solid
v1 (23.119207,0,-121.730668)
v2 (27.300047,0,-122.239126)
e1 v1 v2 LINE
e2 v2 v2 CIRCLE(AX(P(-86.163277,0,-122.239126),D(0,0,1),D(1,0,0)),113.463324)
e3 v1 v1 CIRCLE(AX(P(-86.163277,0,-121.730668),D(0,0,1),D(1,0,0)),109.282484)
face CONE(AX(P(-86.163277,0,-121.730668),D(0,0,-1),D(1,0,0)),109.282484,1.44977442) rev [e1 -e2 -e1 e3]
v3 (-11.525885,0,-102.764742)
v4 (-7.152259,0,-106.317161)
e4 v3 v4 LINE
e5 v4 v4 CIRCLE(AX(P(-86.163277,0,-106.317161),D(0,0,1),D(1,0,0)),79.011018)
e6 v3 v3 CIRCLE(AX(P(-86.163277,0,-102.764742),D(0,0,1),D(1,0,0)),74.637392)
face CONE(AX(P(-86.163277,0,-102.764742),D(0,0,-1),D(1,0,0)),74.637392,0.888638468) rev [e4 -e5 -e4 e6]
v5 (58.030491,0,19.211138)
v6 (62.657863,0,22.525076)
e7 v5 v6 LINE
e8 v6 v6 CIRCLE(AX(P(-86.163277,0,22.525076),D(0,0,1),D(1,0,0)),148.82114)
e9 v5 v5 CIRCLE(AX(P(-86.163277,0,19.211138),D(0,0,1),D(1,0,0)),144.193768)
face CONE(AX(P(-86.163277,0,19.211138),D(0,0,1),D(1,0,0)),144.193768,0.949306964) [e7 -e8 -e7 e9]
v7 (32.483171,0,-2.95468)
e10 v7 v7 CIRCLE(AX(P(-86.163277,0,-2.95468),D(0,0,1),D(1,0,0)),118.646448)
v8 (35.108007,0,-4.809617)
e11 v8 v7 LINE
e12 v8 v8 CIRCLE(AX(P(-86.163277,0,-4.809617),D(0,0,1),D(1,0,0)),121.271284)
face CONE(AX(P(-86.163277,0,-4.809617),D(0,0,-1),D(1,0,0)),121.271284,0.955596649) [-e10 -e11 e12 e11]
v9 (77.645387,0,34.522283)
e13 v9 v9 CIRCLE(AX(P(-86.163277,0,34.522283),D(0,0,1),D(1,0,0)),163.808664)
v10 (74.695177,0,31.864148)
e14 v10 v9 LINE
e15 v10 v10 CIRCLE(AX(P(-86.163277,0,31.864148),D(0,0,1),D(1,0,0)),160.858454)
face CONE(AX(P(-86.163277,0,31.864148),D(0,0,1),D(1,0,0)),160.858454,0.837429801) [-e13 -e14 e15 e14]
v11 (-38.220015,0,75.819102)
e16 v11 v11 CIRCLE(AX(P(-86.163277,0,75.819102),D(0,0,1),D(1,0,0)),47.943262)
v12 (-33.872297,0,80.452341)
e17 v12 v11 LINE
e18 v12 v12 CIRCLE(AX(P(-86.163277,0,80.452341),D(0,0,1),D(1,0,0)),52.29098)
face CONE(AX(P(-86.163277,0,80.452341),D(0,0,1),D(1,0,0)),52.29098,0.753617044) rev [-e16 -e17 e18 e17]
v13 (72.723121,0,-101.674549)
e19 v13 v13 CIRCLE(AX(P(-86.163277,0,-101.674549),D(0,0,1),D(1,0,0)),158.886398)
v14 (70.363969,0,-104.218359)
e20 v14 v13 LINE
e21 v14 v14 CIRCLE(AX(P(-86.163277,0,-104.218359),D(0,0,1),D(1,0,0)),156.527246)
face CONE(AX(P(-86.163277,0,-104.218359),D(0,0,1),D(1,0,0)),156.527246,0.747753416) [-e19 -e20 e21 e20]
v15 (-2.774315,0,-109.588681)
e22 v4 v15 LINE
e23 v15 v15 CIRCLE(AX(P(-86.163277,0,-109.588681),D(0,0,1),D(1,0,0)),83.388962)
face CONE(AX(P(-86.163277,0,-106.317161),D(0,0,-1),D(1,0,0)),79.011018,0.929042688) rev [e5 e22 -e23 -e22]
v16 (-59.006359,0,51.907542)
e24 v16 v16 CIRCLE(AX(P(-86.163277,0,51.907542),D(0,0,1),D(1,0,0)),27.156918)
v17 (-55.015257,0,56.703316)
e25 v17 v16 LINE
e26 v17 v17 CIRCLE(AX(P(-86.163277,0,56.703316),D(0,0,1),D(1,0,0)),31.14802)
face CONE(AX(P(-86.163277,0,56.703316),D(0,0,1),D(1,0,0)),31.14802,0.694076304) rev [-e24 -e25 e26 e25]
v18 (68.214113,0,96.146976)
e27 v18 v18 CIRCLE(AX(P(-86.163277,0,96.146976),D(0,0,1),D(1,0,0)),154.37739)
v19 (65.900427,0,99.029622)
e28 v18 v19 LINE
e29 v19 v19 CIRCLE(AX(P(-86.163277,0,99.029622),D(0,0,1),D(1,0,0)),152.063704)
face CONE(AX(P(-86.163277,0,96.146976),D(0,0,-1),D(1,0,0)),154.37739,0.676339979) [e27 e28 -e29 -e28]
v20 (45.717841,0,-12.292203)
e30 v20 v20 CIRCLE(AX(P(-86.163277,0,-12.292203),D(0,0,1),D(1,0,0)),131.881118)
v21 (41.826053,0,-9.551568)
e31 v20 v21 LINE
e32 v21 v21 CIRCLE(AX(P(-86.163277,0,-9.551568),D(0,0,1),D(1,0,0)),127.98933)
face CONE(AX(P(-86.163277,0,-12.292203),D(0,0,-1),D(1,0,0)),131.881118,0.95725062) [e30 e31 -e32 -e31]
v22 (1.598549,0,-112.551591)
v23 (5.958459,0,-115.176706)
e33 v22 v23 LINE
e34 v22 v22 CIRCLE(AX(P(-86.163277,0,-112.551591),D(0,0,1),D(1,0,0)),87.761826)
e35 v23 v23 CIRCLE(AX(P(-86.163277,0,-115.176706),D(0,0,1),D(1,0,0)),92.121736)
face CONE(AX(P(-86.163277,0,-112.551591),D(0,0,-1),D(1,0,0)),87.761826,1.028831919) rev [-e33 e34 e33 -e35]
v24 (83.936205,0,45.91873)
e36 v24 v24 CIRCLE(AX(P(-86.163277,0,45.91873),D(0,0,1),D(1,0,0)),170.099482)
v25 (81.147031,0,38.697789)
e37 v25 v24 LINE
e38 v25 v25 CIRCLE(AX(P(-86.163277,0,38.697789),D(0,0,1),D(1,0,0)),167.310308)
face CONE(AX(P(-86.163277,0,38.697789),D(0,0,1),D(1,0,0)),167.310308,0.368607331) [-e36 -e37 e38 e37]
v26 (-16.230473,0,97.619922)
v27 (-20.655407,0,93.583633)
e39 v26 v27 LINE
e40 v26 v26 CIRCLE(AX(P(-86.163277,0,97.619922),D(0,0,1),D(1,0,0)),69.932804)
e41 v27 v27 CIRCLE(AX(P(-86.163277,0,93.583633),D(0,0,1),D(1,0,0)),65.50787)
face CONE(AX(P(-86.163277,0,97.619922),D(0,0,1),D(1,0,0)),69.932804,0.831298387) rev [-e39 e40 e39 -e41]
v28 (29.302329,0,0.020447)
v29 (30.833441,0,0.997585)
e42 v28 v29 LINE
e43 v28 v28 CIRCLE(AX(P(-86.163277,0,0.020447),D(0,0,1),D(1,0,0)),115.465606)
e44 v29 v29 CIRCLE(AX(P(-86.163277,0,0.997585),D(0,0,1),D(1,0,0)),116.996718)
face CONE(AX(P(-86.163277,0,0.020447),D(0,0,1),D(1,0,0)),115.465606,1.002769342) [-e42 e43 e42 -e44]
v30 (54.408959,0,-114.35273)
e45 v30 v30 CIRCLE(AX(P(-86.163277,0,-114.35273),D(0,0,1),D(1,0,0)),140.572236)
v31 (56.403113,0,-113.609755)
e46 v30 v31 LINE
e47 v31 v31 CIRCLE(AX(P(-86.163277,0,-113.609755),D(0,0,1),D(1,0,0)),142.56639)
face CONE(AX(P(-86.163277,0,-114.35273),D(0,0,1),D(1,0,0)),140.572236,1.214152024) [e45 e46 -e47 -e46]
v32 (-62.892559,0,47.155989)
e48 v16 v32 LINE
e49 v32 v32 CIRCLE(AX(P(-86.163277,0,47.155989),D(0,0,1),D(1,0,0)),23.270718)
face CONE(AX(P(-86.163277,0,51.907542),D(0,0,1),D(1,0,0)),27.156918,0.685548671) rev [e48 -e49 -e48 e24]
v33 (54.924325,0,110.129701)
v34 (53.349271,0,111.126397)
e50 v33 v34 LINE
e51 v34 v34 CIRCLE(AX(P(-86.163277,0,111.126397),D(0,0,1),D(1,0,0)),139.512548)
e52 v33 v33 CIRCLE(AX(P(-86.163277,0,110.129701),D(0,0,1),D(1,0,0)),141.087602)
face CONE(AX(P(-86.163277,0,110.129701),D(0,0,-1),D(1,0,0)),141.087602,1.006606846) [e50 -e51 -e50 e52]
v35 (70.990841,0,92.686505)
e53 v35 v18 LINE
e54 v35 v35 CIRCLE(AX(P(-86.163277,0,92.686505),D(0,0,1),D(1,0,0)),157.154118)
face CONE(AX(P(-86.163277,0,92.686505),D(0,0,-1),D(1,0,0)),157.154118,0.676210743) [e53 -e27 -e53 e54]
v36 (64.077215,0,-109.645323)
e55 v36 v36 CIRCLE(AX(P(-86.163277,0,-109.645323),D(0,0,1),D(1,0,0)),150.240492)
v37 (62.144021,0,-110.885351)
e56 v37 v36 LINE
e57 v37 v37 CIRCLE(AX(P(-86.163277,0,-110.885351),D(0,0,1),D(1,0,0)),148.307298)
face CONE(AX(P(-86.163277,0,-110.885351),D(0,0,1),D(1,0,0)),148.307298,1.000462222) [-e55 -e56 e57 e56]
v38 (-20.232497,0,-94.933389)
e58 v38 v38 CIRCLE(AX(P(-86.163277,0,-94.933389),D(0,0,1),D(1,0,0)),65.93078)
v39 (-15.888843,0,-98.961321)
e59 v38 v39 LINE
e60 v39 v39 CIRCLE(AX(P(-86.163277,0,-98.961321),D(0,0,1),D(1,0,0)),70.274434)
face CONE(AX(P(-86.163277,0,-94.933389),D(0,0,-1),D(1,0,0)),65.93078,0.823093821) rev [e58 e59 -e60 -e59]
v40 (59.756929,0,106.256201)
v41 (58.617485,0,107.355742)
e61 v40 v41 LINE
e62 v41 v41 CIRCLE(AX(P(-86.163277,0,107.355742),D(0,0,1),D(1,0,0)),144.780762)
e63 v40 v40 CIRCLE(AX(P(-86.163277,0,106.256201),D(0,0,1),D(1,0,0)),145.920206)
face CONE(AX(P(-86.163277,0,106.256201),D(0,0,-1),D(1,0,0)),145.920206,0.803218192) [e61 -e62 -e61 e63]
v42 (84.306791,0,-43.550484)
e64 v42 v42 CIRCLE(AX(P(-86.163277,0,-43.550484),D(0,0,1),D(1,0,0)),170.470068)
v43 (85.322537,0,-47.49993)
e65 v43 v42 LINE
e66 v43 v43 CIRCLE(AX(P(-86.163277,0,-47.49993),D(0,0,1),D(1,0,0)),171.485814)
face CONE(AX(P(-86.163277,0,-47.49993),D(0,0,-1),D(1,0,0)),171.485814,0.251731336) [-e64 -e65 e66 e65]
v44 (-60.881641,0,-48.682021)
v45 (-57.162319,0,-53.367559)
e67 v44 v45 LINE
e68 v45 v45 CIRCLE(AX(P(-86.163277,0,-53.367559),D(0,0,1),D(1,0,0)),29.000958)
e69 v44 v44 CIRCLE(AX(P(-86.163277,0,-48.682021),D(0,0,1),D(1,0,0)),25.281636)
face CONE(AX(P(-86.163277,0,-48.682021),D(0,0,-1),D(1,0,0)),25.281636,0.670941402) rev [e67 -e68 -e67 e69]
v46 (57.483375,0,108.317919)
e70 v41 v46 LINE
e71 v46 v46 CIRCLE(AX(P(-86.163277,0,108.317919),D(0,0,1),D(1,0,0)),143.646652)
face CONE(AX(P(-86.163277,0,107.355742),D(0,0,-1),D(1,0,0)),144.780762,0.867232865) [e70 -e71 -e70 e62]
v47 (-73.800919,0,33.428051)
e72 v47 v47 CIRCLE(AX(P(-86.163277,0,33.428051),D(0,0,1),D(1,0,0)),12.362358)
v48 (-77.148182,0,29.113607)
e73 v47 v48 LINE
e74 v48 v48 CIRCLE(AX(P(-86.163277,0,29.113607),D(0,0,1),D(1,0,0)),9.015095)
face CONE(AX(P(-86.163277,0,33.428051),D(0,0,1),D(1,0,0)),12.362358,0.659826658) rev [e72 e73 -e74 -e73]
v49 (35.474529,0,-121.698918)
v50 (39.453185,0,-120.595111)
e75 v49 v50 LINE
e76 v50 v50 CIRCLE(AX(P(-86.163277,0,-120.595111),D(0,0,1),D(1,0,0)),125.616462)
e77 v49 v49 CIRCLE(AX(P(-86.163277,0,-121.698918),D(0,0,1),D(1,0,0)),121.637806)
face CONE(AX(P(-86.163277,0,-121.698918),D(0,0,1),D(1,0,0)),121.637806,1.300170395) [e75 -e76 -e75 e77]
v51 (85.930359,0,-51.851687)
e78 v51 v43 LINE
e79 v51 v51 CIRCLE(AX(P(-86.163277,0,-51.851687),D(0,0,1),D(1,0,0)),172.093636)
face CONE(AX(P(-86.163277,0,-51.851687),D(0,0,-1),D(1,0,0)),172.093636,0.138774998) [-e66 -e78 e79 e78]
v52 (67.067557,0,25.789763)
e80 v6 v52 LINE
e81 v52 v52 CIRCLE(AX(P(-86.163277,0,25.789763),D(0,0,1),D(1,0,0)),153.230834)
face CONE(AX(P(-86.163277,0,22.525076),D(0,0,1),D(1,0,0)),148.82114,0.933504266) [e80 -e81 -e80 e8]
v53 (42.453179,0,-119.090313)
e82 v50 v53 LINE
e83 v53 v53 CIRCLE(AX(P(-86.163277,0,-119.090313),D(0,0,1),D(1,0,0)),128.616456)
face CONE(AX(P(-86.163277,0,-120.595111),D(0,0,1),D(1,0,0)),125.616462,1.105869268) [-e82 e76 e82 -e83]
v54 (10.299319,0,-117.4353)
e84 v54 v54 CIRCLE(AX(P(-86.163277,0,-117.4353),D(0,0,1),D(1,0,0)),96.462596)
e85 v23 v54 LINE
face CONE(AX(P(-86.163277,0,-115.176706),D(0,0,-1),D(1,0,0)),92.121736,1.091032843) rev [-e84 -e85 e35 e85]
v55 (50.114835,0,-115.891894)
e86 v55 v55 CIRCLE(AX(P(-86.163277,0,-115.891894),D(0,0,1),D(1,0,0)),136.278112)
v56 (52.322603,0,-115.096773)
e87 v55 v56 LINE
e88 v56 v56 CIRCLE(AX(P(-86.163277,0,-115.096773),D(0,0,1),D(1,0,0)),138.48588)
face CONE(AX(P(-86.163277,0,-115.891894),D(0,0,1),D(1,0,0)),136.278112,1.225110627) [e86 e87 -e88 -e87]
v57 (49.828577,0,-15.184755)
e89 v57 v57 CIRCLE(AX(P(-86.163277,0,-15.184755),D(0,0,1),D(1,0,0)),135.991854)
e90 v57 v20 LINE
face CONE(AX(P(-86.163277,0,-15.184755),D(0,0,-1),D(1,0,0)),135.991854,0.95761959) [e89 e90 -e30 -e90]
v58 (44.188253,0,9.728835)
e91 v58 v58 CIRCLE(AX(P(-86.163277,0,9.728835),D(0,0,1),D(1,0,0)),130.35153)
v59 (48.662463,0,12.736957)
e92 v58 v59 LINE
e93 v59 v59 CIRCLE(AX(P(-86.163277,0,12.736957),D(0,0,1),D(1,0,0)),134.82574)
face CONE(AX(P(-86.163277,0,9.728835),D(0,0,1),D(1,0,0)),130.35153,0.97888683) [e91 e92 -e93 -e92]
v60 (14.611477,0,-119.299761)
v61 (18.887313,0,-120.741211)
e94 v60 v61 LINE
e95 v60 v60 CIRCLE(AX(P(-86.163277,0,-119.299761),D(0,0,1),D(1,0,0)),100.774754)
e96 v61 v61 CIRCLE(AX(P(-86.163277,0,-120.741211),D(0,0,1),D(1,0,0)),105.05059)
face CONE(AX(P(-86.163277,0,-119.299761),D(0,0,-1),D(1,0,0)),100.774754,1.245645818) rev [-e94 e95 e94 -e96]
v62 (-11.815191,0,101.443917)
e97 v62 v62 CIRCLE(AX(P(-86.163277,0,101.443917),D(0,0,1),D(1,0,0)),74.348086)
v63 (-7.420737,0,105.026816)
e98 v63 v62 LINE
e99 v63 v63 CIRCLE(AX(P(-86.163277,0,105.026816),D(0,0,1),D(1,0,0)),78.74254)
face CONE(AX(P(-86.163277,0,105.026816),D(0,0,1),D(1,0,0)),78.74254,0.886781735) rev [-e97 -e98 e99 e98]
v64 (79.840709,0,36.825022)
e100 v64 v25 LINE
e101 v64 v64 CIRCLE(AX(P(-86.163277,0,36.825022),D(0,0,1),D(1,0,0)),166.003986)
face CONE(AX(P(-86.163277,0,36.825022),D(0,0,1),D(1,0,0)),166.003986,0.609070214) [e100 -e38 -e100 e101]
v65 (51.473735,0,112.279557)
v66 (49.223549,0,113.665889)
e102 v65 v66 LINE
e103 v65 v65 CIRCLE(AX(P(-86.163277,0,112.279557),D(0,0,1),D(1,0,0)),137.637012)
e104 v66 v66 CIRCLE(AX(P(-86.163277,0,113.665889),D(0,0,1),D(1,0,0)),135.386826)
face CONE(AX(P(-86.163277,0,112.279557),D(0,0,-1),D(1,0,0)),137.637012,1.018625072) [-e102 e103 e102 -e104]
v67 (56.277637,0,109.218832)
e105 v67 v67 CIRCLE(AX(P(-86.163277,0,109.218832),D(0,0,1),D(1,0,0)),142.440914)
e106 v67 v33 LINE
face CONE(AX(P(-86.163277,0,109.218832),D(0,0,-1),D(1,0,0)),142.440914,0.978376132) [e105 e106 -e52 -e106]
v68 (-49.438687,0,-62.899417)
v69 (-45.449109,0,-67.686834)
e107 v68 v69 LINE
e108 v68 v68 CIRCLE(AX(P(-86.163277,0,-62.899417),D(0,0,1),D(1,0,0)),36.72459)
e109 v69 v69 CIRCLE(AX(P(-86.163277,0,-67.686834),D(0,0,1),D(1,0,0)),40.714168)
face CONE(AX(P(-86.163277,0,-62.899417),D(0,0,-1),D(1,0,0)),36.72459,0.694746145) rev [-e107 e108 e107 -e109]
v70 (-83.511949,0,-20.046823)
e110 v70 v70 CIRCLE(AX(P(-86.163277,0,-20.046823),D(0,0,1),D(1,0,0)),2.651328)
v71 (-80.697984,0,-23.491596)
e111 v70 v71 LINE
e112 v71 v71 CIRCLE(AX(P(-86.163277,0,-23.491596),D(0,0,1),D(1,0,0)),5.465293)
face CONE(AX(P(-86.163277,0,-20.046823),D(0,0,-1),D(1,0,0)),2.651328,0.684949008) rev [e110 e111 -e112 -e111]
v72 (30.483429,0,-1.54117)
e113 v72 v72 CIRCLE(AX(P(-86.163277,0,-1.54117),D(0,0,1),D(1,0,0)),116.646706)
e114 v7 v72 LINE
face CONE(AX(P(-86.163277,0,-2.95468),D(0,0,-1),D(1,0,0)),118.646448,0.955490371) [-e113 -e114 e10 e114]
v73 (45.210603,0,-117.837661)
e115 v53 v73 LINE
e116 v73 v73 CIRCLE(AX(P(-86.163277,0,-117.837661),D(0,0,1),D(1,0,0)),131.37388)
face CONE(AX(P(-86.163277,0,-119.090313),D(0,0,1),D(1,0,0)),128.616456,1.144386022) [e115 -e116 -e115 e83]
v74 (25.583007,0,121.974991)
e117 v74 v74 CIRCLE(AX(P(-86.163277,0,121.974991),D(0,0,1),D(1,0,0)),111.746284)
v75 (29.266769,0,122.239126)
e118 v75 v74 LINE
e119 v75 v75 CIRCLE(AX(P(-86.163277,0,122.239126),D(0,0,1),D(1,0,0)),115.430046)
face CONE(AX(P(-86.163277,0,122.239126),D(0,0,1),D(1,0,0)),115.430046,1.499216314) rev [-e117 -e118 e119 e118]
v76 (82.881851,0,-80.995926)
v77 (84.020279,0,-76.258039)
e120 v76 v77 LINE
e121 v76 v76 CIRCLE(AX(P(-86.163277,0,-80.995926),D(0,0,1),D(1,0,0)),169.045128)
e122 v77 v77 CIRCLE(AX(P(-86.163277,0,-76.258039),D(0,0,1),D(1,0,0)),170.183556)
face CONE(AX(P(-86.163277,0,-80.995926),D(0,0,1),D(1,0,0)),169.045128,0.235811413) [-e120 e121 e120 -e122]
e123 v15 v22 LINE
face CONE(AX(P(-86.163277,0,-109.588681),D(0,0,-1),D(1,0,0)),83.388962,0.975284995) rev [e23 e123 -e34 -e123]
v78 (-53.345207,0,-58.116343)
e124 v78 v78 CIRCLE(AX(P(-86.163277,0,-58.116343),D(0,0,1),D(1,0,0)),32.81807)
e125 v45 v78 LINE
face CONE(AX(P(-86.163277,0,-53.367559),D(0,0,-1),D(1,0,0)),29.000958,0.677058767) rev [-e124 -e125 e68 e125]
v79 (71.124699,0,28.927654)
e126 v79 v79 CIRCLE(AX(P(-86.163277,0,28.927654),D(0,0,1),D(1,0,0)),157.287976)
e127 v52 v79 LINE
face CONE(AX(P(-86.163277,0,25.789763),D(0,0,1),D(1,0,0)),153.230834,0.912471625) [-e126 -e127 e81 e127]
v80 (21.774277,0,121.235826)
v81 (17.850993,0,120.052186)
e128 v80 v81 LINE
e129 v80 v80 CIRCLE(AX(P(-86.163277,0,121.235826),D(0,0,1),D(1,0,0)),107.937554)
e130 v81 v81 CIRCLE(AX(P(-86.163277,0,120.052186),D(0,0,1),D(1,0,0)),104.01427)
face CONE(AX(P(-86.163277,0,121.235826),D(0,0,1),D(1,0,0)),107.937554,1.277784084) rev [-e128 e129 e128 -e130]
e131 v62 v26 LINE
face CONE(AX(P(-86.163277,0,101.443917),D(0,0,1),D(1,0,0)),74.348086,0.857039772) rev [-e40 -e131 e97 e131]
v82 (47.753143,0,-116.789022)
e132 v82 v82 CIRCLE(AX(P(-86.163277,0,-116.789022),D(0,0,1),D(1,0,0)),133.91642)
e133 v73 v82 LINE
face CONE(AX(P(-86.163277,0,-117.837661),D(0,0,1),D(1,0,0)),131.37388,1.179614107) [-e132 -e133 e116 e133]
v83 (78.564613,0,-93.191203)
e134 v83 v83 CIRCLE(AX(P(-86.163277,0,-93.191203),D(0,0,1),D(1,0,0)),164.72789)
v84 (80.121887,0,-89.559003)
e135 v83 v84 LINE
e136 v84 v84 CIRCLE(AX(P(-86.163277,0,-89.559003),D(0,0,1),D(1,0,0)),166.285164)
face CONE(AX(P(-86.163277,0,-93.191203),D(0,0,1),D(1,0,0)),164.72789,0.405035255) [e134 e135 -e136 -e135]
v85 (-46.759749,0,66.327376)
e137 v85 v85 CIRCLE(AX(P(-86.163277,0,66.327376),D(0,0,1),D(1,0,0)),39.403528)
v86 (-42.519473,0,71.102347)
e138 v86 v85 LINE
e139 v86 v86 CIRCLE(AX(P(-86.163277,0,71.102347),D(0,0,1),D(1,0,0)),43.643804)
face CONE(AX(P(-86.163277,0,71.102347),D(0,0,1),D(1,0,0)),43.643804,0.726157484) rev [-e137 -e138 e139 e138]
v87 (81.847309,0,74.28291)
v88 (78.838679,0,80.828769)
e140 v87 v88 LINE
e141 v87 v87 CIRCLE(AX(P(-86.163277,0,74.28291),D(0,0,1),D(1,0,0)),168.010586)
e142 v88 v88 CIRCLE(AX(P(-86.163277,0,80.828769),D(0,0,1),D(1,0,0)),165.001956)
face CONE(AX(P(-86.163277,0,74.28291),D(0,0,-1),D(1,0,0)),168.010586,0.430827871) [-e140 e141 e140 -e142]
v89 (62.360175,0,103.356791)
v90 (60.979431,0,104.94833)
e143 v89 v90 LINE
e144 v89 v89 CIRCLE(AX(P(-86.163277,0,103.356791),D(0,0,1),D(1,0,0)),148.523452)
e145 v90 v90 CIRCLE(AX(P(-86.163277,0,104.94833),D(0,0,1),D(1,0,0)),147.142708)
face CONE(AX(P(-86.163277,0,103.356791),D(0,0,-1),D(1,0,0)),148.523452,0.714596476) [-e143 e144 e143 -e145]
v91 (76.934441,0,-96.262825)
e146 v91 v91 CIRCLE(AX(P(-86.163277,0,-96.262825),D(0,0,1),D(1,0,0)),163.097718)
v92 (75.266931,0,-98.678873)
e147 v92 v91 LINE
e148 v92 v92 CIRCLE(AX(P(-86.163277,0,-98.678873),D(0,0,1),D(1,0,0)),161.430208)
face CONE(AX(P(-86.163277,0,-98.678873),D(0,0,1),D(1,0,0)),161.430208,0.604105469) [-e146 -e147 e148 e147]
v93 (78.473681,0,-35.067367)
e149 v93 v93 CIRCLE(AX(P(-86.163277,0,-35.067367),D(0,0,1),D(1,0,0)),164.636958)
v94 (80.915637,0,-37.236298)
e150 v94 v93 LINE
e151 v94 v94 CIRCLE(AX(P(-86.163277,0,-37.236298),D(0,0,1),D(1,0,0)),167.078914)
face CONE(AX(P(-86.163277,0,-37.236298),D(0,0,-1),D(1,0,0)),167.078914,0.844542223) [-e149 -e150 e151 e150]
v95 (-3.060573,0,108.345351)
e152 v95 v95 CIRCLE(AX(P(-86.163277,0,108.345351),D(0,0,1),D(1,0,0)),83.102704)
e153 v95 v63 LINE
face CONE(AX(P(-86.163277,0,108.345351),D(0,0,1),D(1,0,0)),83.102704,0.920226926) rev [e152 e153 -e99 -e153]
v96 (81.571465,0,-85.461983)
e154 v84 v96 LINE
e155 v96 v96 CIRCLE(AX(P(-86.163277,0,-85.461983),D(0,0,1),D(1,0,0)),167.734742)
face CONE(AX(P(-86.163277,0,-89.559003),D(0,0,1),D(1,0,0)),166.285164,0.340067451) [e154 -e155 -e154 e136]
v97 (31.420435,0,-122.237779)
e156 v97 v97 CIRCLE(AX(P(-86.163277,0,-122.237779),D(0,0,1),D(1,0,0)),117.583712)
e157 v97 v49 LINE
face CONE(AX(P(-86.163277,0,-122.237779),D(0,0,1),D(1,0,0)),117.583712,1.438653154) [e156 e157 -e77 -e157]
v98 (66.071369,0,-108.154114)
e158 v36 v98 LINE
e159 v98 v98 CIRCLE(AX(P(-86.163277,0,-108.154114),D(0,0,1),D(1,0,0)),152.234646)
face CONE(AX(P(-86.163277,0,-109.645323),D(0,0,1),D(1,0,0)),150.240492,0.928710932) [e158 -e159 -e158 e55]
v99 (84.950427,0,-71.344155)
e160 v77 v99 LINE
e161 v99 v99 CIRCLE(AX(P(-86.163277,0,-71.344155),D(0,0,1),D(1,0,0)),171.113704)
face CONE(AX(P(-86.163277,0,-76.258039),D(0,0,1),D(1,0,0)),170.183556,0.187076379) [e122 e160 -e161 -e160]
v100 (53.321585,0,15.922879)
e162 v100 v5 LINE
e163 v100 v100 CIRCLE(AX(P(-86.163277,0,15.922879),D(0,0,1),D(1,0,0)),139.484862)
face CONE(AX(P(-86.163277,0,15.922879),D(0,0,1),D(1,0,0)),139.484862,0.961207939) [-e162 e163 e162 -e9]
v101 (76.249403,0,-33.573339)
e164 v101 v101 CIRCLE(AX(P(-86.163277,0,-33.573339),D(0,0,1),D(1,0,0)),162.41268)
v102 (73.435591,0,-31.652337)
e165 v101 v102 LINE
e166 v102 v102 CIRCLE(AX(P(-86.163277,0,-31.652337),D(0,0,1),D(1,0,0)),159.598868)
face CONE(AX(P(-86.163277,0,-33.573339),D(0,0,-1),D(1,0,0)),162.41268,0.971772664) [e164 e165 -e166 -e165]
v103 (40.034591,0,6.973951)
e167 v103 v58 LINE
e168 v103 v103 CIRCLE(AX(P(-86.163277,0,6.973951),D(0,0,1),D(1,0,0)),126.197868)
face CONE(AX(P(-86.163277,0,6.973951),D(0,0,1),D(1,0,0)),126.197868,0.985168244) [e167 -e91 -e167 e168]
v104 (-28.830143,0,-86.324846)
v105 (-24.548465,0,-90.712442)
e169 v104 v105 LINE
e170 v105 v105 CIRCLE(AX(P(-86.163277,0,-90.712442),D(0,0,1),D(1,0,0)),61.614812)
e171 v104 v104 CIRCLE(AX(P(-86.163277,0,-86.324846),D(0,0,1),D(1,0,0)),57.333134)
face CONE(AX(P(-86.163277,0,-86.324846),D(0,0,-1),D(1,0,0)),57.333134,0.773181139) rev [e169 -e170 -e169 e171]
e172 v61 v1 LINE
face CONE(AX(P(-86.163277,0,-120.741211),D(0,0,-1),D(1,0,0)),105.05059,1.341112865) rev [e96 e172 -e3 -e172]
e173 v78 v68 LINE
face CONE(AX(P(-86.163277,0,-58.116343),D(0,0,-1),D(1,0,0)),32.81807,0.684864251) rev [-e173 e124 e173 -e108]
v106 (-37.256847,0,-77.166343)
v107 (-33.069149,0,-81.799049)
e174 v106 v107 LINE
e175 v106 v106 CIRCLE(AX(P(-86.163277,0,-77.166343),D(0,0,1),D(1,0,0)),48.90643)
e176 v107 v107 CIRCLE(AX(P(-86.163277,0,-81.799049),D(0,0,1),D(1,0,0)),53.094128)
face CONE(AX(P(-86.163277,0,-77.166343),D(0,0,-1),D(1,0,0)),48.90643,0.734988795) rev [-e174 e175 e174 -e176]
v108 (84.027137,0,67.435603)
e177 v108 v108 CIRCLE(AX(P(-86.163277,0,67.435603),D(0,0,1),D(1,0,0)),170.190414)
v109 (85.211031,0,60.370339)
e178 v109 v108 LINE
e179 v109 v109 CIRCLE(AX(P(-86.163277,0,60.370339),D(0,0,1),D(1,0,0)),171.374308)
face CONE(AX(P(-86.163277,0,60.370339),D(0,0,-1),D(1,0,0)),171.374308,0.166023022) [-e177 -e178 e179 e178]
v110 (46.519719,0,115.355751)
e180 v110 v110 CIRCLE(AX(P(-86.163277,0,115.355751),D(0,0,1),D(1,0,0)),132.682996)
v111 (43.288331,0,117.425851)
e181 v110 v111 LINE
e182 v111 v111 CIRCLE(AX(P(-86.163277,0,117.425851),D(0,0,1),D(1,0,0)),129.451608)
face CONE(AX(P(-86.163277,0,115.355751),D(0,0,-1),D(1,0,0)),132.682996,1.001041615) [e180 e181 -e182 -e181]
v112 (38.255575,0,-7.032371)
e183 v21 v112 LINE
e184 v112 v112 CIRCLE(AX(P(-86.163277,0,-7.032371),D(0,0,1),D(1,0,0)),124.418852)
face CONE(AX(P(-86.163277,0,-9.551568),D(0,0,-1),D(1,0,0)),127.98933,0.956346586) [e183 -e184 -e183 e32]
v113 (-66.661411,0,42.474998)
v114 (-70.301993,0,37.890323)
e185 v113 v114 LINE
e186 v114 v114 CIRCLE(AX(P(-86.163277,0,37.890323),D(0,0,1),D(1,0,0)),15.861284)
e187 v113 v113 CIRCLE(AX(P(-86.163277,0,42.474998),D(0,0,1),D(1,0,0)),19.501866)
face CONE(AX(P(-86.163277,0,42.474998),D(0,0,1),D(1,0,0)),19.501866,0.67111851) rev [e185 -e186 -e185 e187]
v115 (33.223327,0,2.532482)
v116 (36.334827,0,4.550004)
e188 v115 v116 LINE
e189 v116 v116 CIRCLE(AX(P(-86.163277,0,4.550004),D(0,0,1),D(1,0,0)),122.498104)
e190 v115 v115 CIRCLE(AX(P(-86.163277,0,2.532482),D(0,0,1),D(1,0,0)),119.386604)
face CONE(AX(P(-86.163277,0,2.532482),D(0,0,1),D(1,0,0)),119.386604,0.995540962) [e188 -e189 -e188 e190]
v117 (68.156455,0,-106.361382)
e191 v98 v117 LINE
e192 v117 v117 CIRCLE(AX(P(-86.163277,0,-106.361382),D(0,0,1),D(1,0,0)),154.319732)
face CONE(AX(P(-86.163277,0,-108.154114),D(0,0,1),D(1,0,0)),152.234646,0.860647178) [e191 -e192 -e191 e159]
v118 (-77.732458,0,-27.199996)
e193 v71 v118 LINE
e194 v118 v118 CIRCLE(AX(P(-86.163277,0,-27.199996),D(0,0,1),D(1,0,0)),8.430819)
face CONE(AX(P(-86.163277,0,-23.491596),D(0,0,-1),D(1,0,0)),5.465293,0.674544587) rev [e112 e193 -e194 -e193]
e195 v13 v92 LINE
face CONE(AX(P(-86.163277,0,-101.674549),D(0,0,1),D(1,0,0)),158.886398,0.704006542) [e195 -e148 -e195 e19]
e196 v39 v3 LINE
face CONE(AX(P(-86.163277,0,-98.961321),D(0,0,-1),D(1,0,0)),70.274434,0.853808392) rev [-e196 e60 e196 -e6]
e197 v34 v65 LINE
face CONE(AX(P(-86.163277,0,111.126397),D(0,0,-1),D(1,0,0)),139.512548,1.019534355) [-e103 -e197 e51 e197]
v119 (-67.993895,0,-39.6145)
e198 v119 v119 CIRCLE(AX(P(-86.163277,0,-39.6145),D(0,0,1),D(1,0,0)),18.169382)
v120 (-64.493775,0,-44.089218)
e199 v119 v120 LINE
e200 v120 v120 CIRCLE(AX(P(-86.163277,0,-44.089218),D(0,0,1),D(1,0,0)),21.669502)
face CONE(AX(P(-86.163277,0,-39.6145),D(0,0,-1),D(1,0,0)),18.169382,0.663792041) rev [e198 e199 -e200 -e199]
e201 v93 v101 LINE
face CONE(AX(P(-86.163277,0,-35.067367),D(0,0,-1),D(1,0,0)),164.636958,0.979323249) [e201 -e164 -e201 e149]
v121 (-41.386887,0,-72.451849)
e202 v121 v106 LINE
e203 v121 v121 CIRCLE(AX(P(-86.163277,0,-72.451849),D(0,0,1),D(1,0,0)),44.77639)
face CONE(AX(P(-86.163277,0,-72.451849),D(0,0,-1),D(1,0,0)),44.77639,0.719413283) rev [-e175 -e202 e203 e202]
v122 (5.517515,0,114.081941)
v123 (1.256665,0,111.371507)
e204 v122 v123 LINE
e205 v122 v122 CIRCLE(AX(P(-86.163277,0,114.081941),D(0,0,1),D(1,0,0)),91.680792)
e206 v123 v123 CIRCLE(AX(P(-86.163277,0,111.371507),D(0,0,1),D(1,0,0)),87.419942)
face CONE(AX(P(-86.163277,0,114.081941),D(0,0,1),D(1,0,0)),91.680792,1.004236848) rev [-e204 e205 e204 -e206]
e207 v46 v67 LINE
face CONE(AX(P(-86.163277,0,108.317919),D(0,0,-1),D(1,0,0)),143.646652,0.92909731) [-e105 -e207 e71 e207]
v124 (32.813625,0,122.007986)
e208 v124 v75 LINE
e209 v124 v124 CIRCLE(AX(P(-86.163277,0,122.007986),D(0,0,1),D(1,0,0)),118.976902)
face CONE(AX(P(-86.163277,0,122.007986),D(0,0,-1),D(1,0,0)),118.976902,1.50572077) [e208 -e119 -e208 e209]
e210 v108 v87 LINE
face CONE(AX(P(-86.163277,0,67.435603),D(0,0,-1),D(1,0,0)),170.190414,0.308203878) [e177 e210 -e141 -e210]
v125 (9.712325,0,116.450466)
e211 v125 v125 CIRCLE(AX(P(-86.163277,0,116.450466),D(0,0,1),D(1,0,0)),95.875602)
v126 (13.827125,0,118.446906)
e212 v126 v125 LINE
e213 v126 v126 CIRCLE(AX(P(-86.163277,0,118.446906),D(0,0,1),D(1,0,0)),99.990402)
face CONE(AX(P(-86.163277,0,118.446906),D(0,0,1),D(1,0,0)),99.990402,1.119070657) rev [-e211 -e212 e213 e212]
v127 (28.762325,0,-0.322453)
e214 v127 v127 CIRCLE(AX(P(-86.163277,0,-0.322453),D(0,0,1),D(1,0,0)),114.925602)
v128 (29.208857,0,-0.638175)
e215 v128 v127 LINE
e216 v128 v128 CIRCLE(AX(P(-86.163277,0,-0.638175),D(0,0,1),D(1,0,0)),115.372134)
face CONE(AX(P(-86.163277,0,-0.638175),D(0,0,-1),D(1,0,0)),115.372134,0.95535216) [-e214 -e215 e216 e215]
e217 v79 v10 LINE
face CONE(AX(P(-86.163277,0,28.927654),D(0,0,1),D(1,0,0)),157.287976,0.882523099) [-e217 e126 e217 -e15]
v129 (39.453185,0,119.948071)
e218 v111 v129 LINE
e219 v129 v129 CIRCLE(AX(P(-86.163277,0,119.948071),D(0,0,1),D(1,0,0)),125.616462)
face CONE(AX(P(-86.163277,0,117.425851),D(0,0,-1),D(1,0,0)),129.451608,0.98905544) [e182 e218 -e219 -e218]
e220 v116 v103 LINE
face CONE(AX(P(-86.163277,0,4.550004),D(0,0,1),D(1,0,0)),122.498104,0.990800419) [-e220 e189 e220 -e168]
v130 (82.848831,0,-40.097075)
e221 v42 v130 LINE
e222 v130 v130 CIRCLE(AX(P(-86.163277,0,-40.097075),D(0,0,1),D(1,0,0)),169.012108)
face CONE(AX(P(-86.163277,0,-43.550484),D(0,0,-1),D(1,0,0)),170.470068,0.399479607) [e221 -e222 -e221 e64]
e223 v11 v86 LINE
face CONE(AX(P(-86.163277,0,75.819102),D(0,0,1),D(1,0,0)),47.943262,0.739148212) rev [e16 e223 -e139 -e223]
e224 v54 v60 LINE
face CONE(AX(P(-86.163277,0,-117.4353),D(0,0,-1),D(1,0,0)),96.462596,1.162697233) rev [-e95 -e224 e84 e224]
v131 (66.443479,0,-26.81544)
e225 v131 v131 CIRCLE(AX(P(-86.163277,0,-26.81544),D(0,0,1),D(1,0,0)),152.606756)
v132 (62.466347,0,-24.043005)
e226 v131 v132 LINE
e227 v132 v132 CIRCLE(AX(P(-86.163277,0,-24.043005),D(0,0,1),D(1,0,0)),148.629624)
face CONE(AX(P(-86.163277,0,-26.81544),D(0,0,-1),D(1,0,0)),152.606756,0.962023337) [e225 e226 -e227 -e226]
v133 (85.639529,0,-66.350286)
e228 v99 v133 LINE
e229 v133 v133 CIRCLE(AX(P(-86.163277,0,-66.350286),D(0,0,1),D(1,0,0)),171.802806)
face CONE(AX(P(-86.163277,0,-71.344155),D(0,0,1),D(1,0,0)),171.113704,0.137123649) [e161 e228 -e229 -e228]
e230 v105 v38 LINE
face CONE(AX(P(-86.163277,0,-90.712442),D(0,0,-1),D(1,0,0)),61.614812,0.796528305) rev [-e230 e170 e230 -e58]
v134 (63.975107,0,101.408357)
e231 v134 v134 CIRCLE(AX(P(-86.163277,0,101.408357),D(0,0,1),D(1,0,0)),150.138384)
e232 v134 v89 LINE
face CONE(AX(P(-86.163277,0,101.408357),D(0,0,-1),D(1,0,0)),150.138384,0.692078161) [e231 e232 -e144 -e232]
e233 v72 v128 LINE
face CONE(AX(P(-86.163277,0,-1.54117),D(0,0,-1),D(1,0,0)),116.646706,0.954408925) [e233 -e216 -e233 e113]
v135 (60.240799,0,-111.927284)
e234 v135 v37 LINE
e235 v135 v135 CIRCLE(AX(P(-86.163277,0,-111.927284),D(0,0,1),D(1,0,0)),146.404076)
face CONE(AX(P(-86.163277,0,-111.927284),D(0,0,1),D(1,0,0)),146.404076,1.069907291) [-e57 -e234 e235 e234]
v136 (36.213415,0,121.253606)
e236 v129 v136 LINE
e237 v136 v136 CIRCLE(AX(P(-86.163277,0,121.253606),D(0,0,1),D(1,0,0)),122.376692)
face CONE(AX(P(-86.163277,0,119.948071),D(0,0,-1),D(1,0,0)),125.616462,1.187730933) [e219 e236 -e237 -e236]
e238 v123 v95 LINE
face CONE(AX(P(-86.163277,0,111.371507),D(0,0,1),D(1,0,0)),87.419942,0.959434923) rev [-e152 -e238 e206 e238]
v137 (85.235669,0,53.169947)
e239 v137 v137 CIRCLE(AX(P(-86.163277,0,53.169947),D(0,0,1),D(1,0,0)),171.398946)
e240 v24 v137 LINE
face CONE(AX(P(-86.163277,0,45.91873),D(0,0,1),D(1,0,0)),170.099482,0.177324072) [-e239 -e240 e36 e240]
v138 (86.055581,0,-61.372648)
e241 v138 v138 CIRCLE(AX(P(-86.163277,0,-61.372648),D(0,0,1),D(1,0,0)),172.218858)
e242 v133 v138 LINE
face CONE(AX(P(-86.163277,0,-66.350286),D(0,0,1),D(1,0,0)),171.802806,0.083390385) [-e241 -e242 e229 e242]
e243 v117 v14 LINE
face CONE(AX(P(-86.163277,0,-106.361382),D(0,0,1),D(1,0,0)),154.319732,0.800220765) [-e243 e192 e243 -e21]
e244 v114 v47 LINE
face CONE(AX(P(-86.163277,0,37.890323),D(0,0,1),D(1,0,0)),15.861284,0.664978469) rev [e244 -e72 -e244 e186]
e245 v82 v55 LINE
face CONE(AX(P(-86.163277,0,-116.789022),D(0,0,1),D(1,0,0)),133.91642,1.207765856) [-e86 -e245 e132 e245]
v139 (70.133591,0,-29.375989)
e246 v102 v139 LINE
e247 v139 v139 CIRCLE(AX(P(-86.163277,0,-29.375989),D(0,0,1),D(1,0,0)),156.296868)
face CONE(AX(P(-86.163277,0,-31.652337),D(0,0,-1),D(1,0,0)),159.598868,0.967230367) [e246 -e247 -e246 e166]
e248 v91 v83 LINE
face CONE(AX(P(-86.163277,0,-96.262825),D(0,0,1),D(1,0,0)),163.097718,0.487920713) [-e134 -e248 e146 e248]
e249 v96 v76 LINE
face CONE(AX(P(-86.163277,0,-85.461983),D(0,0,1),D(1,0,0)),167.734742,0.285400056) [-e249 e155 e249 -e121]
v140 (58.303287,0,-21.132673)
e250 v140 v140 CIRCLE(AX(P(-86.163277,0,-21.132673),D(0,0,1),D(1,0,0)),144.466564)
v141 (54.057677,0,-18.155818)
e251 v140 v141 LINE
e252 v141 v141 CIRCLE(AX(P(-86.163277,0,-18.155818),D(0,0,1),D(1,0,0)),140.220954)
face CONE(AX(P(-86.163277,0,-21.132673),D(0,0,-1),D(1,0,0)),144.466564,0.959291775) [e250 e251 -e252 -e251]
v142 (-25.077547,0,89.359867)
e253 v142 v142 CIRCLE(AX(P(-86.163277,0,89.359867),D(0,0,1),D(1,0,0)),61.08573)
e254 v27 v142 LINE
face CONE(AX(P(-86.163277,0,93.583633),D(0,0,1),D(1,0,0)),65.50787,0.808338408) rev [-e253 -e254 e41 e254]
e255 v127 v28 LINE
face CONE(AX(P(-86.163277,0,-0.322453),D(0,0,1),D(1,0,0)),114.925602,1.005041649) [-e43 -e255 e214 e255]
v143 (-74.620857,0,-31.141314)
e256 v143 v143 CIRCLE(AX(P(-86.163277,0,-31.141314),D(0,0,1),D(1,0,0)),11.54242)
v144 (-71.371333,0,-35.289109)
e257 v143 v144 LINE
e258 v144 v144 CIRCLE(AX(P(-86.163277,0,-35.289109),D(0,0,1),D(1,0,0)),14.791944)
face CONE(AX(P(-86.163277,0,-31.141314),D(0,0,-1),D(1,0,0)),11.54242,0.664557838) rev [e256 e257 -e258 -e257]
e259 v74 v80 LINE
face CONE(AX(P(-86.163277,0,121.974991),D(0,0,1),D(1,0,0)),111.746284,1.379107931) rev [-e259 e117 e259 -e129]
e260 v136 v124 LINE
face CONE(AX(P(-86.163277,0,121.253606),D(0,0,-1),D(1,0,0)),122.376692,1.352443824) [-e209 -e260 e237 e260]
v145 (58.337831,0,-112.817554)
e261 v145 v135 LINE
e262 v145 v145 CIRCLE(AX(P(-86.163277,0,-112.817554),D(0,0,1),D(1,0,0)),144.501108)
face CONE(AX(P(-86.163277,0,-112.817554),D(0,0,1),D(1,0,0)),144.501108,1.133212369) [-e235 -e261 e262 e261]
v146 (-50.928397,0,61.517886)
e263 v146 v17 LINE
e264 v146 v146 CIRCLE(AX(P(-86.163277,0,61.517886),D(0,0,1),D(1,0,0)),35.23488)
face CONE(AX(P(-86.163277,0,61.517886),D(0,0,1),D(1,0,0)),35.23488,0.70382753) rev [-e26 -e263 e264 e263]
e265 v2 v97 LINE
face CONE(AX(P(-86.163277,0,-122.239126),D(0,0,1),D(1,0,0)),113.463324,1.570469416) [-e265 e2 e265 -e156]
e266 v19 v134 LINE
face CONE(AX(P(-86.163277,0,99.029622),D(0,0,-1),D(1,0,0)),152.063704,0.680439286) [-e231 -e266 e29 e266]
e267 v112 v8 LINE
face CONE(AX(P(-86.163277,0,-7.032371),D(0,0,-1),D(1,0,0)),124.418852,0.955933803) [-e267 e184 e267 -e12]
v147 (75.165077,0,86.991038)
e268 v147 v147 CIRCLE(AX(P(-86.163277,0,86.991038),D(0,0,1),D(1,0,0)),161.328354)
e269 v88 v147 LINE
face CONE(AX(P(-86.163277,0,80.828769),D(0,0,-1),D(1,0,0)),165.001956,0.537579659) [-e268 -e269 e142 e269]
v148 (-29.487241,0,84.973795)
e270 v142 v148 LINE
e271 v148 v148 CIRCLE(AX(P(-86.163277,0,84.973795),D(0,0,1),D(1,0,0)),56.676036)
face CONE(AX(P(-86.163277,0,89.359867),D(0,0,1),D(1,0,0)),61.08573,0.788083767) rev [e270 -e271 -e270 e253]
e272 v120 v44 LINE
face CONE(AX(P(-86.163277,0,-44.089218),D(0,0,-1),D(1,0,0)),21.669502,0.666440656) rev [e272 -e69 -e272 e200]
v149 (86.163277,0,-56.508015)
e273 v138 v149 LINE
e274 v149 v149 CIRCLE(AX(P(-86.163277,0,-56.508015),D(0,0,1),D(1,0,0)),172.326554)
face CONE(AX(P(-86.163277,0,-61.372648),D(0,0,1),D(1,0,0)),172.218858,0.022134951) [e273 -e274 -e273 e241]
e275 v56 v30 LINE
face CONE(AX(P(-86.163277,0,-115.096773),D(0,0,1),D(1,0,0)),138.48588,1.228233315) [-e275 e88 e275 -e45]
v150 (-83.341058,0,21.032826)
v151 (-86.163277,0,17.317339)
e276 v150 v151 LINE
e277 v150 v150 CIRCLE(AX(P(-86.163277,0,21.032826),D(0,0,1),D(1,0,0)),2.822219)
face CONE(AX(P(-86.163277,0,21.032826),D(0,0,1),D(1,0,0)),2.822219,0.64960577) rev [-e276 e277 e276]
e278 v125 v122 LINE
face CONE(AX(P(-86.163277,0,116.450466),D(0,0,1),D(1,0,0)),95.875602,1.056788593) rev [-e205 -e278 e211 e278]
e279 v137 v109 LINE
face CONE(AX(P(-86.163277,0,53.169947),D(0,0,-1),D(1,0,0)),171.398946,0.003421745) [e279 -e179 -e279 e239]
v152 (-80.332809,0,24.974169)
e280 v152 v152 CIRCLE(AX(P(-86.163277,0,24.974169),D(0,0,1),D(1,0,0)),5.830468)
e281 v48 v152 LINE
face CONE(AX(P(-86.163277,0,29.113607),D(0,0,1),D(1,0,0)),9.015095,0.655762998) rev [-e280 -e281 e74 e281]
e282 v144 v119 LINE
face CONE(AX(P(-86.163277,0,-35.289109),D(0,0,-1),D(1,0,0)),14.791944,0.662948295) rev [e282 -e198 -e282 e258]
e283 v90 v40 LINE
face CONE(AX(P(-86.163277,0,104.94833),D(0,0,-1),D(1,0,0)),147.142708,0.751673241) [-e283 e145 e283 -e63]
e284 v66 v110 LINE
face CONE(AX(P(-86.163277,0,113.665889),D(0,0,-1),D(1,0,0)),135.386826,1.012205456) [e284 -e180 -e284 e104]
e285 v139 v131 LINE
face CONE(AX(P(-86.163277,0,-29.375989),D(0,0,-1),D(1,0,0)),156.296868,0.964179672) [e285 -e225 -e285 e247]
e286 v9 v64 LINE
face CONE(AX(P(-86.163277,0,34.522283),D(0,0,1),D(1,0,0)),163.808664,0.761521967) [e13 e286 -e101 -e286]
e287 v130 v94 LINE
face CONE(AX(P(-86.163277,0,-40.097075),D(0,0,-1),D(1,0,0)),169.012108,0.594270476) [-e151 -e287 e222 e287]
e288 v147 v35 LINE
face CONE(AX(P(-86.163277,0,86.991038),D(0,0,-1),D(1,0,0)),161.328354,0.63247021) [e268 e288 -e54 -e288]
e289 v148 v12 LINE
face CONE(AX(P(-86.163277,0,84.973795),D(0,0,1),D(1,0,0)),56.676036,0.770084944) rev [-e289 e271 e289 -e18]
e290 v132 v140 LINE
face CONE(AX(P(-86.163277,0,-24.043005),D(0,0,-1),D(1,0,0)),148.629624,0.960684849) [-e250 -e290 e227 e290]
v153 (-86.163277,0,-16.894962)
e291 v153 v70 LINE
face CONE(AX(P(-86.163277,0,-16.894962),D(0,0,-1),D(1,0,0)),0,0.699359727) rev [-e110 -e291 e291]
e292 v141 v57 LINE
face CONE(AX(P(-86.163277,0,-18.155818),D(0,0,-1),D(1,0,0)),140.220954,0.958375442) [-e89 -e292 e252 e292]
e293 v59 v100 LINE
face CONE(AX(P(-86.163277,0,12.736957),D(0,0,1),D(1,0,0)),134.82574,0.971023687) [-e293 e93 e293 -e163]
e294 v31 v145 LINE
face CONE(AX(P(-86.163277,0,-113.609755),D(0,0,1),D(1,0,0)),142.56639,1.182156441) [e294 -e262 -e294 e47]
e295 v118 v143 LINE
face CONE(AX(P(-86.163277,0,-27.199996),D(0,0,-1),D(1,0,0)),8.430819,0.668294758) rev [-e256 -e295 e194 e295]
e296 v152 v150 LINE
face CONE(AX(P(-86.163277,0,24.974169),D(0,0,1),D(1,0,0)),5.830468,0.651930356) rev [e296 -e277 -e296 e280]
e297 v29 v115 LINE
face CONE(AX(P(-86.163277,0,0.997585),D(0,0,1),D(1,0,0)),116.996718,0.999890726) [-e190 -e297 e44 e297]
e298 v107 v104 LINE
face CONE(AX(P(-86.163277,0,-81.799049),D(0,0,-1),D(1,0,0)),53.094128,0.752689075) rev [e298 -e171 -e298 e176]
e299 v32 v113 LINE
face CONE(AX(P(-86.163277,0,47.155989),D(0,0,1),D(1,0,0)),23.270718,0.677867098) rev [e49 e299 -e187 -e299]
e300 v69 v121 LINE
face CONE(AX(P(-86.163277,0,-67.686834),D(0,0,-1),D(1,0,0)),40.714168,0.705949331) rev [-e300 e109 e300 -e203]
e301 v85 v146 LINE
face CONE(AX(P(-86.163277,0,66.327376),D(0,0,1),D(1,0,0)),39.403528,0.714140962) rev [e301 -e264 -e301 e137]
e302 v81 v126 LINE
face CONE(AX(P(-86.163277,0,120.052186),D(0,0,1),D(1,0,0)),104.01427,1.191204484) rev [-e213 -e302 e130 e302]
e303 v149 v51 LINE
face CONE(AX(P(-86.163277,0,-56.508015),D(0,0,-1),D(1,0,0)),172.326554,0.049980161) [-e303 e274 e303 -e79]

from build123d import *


with BuildPart() as f1:
    # F0 (on Front) → F1 (revolve)
    with BuildSketch(Plane.XZ):
        Polygon((-83.341058, 21.032826), (-86.163277, 17.317339), (-86.163277, -16.894962), (-83.511949, -20.046823), (-80.697984, -23.491596), (-77.732458, -27.199996), (-74.620857, -31.141314), (-71.371333, -35.289109), (-67.993895, -39.6145), (-64.493775, -44.089218), (-60.881641, -48.682021), (-57.162319, -53.367559), (-53.345207, -58.116343), (-49.438687, -62.899417), (-45.449109, -67.686834), (-41.386887, -72.451849), (-37.256847, -77.166343), (-33.069149, -81.799049), (-28.830143, -86.324846), (-24.548465, -90.712442), (-20.232497, -94.933389), (-15.888843, -98.961321), (-11.525885, -102.764742), (-7.152259, -106.317161), (-2.774315, -109.588681), (1.598549, -112.551591), (5.958459, -115.176706), (10.299319, -117.4353), (14.611477, -119.299761), (18.887313, -120.741211), (23.119207, -121.730668), (27.300047, -122.239126), (31.420435, -122.237779), (35.474529, -121.698918), (39.453185, -120.595111), (42.453179, -119.090313), (45.210603, -117.837661), (47.753143, -116.789022), (50.114835, -115.891894), (52.322603, -115.096773), (54.408959, -114.35273), (56.403113, -113.609755), (58.337831, -112.817554), (60.240799, -111.927284), (62.144021, -110.885351), (64.077215, -109.645323), (66.071369, -108.154114), (68.156455, -106.361382), (70.363969, -104.218359), (72.723121, -101.674549), (75.266931, -98.678873), (76.934441, -96.262825), (78.564613, -93.191203), (80.121887, -89.559003), (81.571465, -85.461983), (82.881851, -80.995926), (84.020279, -76.258039), (84.950427, -71.344155), (85.639529, -66.350286), (86.055581, -61.372648), (86.163277, -56.508015), (85.930359, -51.851687), (85.322537, -47.49993), (84.306791, -43.550484), (82.848831, -40.097075), (80.915637, -37.236298), (78.473681, -35.067367), (76.249403, -33.573339), (73.435591, -31.652337), (70.133591, -29.375989), (66.443479, -26.81544), (62.466347, -24.043005), (58.303287, -21.132673), (54.057677, -18.155818), (49.828577, -15.184755), (45.717841, -12.292203), (41.826053, -9.551568), (38.255575, -7.032371), (35.108007, -4.809617), (32.483171, -2.95468), (30.483429, -1.54117), (29.208857, -0.638175), (28.762325, -0.322453), (29.302329, 0.020447), (30.833441, 0.997585), (33.223327, 2.532482), (36.334827, 4.550004), (40.034591, 6.973951), (44.188253, 9.728835), (48.662463, 12.736957), (53.321585, 15.922879), (58.030491, 19.211138), (62.657863, 22.525076), (67.067557, 25.789763), (71.124699, 28.927654), (74.695177, 31.864148), (77.645387, 34.522283), (79.840709, 36.825022), (81.147031, 38.697789), (83.936205, 45.91873), (85.235669, 53.169947), (85.211031, 60.370339), (84.027137, 67.435603), (81.847309, 74.28291), (78.838679, 80.828769), (75.165077, 86.991038), (70.990841, 92.686505), (68.214113, 96.146976), (65.900427, 99.029622), (63.975107, 101.408357), (62.360175, 103.356791), (60.979431, 104.94833), (59.756929, 106.256201), (58.617485, 107.355742), (57.483375, 108.317919), (56.277637, 109.218832), (54.924325, 110.129701), (53.349271, 111.126397), (51.473735, 112.279557), (49.223549, 113.665889), (46.519719, 115.355751), (43.288331, 117.425851), (39.453185, 119.948071), (36.213415, 121.253606), (32.813625, 122.007986), (29.266769, 122.239126), (25.583007, 121.974991), (21.774277, 121.235826), (17.850993, 120.052186), (13.827125, 118.446906), (9.712325, 116.450466), (5.517515, 114.081941), (1.256665, 111.371507), (-3.060573, 108.345351), (-7.420737, 105.026816), (-11.815191, 101.443917), (-16.230473, 97.619922), (-20.655407, 93.583633), (-25.077547, 89.359867), (-29.487241, 84.973795), (-33.872297, 80.452341), (-38.220015, 75.819102), (-42.519473, 71.102347), (-46.759749, 66.327376), (-50.928397, 61.517886), (-55.015257, 56.703316), (-59.006359, 51.907542), (-62.892559, 47.155989), (-66.661411, 42.474998), (-70.301993, 37.890323), (-73.800919, 33.428051), (-77.148182, 29.113607), (-80.332809, 24.974169), align=None)
    revolve(axis=Axis((-86.163277, 0, 0.211188), (0, 0, 1)))


solid = f1.part
